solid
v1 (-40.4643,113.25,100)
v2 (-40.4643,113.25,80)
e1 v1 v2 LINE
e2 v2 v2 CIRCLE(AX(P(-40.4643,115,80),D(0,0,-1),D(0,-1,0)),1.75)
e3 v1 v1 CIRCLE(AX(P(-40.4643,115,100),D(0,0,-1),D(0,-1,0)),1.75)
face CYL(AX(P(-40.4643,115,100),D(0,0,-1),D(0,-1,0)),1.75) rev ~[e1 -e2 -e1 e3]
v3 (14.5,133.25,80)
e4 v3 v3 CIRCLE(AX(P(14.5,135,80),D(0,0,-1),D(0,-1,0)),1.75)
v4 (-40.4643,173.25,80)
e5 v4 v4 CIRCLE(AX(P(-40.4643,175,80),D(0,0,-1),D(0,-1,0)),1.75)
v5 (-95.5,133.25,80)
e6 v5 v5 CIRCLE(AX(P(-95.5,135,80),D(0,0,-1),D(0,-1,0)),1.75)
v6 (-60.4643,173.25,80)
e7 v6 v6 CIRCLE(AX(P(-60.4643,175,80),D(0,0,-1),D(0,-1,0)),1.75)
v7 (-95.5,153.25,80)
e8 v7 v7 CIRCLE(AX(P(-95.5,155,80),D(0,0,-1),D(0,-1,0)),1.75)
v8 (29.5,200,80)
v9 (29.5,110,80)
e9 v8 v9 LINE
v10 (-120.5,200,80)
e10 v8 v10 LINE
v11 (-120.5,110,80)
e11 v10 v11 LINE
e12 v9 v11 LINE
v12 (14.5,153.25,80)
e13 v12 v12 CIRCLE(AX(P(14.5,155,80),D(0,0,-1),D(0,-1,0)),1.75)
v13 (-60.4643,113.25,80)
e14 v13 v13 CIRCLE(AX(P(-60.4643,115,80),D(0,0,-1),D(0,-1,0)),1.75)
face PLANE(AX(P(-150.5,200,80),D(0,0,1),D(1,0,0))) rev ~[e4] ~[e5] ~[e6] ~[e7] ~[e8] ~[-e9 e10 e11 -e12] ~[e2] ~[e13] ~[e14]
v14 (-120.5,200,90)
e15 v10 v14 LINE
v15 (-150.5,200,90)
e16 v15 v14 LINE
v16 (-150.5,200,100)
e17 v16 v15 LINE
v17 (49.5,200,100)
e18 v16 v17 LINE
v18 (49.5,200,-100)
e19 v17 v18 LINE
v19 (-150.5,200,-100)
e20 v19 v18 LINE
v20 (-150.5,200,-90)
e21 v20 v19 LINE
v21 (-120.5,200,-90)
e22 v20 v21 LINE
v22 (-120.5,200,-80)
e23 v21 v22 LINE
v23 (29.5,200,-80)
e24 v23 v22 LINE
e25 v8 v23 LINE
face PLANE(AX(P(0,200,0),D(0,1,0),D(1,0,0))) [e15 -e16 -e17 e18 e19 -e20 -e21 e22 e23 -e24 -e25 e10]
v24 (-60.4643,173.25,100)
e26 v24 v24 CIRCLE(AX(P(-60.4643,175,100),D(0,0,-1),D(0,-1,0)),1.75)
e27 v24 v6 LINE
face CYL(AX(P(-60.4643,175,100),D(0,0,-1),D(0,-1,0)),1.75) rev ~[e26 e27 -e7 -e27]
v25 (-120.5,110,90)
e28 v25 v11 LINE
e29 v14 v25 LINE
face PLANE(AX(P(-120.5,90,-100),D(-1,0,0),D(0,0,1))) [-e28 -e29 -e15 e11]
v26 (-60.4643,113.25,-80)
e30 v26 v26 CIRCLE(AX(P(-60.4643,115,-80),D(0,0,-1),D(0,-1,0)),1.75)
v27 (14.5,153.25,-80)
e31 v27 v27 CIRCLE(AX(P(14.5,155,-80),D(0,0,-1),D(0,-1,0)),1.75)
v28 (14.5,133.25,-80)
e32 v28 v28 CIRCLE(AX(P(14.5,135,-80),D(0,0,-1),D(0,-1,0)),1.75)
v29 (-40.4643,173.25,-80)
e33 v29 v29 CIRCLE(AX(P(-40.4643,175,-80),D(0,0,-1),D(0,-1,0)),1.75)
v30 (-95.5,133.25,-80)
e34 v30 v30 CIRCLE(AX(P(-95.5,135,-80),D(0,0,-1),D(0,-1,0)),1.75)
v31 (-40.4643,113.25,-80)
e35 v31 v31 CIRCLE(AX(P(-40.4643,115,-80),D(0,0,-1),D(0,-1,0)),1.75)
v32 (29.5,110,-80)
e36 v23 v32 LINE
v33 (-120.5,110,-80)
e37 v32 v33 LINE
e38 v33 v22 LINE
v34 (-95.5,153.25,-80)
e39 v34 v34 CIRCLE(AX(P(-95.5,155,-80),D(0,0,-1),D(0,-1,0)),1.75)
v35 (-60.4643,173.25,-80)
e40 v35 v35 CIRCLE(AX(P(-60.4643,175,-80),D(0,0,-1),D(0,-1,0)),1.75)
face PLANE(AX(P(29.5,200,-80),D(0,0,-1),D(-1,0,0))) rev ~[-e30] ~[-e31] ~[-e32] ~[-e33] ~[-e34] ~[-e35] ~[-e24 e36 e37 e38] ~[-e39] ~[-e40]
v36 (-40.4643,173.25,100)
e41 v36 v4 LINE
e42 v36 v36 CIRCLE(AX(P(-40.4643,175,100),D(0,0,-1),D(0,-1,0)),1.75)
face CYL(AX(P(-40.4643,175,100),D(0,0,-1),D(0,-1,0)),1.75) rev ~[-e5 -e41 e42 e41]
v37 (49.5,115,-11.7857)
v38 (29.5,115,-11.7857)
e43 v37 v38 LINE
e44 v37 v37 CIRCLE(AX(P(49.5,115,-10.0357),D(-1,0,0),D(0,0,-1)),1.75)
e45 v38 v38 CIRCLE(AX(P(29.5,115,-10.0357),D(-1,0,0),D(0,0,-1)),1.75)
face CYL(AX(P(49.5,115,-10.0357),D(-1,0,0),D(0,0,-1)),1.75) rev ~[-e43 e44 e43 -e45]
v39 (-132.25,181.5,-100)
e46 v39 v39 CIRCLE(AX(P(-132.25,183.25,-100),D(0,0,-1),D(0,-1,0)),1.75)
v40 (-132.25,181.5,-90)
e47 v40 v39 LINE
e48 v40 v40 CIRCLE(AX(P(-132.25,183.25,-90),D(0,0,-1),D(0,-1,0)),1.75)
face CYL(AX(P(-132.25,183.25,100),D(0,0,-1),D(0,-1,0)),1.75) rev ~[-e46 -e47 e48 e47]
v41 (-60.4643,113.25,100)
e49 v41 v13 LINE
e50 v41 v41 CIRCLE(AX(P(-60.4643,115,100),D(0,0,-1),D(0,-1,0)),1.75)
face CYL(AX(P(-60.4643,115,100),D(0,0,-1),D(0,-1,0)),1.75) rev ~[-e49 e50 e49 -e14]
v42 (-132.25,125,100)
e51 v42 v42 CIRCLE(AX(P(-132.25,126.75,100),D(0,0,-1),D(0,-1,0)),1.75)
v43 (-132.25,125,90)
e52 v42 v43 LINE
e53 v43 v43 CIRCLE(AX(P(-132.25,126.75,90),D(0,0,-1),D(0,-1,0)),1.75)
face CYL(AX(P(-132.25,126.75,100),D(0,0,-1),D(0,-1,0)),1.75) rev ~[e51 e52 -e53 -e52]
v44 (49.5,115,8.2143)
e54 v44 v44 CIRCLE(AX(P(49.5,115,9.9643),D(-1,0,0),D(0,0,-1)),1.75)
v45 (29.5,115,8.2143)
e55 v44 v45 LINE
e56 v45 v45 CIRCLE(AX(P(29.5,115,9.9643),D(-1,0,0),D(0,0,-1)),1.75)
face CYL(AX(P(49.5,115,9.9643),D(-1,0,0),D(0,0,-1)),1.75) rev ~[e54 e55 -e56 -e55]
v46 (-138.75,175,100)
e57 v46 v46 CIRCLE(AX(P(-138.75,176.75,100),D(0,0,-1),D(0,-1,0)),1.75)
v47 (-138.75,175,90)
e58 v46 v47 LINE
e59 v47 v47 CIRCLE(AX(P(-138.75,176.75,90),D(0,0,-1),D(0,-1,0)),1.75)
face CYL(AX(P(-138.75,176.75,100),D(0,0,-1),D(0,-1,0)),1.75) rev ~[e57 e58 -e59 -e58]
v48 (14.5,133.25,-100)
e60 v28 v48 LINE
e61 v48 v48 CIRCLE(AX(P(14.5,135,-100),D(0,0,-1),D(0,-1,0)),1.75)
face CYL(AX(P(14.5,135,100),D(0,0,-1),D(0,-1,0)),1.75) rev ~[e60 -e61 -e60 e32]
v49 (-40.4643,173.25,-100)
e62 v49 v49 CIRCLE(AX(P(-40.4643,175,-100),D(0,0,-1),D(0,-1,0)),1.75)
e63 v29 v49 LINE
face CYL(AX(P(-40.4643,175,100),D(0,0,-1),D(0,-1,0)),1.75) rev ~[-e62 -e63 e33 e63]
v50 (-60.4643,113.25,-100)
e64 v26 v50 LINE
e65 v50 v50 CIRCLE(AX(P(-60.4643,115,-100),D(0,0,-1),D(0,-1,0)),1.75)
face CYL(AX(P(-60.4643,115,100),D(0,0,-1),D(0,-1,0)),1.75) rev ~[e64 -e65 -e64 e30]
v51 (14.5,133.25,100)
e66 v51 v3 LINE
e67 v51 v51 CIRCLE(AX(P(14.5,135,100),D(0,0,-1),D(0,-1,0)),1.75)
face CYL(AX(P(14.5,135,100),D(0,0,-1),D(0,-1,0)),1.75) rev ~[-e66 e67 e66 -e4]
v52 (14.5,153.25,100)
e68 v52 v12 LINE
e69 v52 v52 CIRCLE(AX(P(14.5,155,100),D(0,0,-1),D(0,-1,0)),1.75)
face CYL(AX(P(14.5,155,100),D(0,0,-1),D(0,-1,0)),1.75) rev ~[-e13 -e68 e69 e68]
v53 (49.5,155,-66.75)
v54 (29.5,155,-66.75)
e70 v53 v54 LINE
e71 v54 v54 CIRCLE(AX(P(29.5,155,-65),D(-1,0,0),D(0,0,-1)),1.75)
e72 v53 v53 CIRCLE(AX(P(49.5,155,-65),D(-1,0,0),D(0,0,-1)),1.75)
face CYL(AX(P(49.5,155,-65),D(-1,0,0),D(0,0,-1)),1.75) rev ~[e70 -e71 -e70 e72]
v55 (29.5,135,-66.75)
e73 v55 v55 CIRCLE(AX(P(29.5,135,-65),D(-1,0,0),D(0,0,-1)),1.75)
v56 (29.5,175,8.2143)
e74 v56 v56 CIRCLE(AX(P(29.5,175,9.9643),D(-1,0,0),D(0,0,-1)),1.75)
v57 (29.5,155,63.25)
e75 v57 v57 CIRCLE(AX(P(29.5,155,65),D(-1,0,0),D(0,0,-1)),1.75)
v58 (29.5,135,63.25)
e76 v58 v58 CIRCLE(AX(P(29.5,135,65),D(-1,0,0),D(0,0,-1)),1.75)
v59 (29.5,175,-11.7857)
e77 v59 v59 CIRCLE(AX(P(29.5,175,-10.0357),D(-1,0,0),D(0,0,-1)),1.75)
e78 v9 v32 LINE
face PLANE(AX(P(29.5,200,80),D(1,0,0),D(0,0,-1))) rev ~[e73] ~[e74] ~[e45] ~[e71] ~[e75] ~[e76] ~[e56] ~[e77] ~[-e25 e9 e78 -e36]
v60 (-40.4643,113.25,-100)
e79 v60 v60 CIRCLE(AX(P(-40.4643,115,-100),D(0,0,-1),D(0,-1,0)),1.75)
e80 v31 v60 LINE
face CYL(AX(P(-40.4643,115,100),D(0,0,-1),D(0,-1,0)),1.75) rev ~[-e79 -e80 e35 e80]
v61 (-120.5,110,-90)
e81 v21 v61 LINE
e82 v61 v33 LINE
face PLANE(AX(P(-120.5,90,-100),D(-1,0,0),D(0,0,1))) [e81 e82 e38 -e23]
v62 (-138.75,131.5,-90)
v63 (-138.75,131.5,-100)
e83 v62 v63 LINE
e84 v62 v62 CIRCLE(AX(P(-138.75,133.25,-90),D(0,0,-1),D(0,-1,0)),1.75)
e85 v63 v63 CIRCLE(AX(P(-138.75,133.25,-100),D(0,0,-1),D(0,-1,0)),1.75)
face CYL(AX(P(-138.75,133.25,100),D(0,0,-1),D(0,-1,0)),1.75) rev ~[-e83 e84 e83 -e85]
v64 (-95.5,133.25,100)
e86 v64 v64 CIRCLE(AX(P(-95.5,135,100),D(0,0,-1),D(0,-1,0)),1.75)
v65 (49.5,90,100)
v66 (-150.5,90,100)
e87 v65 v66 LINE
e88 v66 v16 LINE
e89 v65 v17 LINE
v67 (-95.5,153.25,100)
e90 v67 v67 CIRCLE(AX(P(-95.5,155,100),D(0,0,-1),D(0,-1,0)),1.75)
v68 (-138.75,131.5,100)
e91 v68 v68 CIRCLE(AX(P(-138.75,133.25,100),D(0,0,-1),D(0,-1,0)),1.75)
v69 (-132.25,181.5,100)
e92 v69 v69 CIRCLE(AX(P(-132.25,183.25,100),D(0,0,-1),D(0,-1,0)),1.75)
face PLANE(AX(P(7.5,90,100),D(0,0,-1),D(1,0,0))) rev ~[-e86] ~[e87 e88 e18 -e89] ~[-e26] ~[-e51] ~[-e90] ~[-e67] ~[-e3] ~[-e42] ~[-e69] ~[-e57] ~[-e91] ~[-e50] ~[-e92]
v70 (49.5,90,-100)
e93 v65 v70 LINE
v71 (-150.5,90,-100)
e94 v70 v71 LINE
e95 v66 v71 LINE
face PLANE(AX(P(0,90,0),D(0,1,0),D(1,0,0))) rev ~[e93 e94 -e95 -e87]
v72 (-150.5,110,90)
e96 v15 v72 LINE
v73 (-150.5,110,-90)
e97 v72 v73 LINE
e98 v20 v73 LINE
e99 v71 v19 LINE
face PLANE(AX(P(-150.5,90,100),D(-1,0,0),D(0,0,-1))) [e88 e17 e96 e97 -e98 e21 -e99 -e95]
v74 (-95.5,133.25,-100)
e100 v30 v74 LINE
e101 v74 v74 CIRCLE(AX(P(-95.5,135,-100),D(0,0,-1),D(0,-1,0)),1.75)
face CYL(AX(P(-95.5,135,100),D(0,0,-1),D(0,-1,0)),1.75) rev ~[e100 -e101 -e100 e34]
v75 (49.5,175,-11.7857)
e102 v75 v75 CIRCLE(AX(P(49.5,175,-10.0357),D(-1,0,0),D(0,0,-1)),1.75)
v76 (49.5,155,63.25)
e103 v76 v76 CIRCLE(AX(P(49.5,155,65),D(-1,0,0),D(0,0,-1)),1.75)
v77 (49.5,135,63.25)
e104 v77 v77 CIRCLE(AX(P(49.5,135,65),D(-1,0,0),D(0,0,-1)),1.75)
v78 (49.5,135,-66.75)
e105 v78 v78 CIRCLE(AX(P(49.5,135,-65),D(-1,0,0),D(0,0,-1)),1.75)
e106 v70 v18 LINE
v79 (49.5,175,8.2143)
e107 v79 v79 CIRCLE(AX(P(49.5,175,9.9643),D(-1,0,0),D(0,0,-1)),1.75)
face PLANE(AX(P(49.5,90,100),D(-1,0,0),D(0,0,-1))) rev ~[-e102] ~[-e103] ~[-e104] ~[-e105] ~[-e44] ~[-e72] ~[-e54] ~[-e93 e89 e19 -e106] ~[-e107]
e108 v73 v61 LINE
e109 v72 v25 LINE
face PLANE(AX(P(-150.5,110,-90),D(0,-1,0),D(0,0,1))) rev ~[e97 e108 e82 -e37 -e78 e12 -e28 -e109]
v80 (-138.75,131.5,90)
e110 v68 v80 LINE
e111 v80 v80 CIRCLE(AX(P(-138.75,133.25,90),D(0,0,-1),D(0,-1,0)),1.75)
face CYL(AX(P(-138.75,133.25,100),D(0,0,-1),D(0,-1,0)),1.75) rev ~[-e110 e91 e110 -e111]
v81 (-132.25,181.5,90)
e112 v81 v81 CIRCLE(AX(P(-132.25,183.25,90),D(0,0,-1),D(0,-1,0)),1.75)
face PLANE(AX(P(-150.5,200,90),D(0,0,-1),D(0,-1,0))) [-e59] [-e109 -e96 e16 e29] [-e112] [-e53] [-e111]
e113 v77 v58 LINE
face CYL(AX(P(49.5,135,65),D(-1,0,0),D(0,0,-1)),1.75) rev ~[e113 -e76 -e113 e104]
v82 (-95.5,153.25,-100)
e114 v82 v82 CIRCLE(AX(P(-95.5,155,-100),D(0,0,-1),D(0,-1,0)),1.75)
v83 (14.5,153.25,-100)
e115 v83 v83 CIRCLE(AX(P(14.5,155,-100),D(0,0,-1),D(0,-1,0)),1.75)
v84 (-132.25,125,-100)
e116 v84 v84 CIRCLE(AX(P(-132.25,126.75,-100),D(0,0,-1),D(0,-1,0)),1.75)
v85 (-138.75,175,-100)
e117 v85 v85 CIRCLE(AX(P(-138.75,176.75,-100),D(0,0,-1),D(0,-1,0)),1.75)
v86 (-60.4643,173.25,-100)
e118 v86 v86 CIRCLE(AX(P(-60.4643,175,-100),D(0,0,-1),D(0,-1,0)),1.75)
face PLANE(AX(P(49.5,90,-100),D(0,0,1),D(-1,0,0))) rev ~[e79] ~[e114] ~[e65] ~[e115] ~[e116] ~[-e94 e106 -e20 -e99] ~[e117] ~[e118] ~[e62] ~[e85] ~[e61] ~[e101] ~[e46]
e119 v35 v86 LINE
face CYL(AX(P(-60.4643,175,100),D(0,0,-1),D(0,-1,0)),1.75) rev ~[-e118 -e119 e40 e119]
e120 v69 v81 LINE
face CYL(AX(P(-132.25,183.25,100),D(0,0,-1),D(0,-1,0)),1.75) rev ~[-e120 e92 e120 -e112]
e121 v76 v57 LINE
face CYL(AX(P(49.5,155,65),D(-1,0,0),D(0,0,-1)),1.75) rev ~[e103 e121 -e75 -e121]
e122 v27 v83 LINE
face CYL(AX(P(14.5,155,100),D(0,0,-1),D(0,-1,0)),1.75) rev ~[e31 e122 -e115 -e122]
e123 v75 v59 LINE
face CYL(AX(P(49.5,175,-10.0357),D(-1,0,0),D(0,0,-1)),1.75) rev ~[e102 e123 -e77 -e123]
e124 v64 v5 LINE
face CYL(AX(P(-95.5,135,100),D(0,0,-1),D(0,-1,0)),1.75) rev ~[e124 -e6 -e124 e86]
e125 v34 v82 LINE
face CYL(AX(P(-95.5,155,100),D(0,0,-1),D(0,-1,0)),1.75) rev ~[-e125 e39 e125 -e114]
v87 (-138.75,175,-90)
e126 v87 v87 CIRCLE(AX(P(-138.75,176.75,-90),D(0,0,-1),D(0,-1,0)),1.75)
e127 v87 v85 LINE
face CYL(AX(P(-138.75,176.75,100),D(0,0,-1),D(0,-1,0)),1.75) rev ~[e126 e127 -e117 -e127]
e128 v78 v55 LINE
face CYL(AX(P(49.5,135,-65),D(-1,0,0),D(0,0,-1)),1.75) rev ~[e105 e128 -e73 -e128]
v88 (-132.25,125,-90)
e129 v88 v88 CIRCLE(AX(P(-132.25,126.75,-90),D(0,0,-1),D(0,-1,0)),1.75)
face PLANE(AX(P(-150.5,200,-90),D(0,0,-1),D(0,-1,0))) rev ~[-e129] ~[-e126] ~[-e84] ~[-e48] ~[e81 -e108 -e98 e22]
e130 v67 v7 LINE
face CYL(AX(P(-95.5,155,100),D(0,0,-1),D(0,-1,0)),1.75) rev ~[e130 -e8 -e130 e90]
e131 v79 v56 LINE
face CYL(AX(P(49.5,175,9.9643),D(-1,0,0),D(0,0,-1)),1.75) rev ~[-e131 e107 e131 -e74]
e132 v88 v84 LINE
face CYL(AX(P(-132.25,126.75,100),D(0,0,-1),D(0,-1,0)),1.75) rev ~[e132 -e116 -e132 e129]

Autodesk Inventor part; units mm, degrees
ref_plane "YZ Plane" through (0, 0, 0) normal (1, 0, 0) x (0, 1, 0)
ref_plane "XZ Plane" through (0, 0, 0) normal (0, 1, 0) x (-1, 0, 0)
ref_plane "XY Plane" through (0, 0, 0) normal (0, 0, 1) x (1, 0, 0)
sketch "Boceto2" plane through (0, 0, 0) normal (0, 1, 0) x (-1, 0, 0)
  line L0 (7.5, 100) -> (-7.5, 100)
  line L1 (-7.5, 100) -> (-7.5, -100)
  line L2 (-7.5, -100) -> (7.5, -100)
  line L3 (7.5, -100) -> (7.5, 100)
  line L4 (7.5, 100) -> (-7.5, -100) construction
  line L5 (-7.5, 100) -> (7.5, -100) construction
  point P0 (0, 0)
  dimension "d7" = 15
  dimension "d8" = 200
extrude "Extrusión1" add sketch "Boceto2" along normal blind 10
sketch "Boceto3" plane through (0, 10, 0) normal (0, 1, 0) x (1, 0, 0)
  circle A0 centre (3.25, 58.25) radius 1.75
  line L0 (5, 50) -> (-5, 50)
  line L1 (-5, 50) -> (-5, 60)
  line L2 (-5, 60) -> (5, 60)
  line L3 (5, 60) -> (5, 50)
  line L4 (5, 50) -> (-5, 60) construction
  line L5 (-5, 50) -> (5, 60) construction
  circle A1 centre (-3.25, 51.75) radius 1.75
  line L6 (7.5, 100) -> (-7.5, 100) projected
  line L7 (-7.5, 0) -> (3.408, 0)
  line L8 (5, -60) -> (5, -50)
  line L9 (-5, -60) -> (5, -60)
  line L10 (5, -50) -> (-5, -50)
  line L11 (-5, -50) -> (-5, -60)
  line L12 (-5, -50) -> (5, -60) construction
  circle A2 centre (-3.25, -51.75) radius 1.75
  line L13 (5, -50) -> (-5, -60) construction
  circle A3 centre (3.25, -58.25) radius 1.75
  line L14 (-7.5, -100) -> (7.5, -100) projected
  point P0 (0, 0)
  point P1 (-5, 55)
  point P2 (0, 100)
  point P3 (-5, -55)
  dimension "d11" = 3.5
  dimension "d12" = 1.75
  dimension "d13" = 1.75
  dimension "d14" = 1.75
  dimension "d15" = 1.75
  dimension "d16" = 10
  dimension "d17" = 10
  dimension "d19" = 40
  dimension "d81" = 40
hole "Agujero1" at (3.25, 10, 58.25) at (-3.25, 10, 51.75) at (3.25, 10, -58.25) at (-3.25, 10, -51.75) direction (0, -1, 0) diameter 3.5 end through all
sketch "Boceto4" plane through (0, 10, 0) normal (0, 1, 0) x (1, 0, 0)
  line L0 (-7.5, 100) -> (-7.5, -100) projected
  line L1 (-7.5, -100) -> (7.5, -100)
  line L2 (7.5, -100) -> (7.5, -80)
  line L3 (7.5, -80) -> (-7.5, -80)
  line L4 (-7.5, -80) -> (-7.5, -100)
  line L5 (-7.5, 0) -> (1.0116, 0)
  line L6 (-7.5, -100) -> (-7.5, 100)
  line L7 (-7.5, 100) -> (7.5, 100)
  line L8 (7.5, 100) -> (7.5, 80)
  line L9 (7.5, 80) -> (-7.5, 80)
  line L10 (-7.5, 80) -> (-7.5, 100)
  point P0 (0, 0)
  point P1 (-7.5, -80)
  point P2 (-7.5, 80)
  dimension "d27" = 15
  dimension "d28" = 20
extrude "Extrusión2" add sketch "Boceto4" along normal blind 80
sketch "Boceto5" plane through (0, 90, 0) normal (0, 1, 0) x (1, 0, 0)
  line L0 (-7.5, -100) -> (7.5, -100) projected
  line L1 (-7.5, -100) -> (49.5, -100)
  line L2 (49.5, -100) -> (49.5, 100)
  line L3 (49.5, 100) -> (-7.5, 100)
  line L4 (-7.5, 100) -> (-7.5, -100)
  line L5 (49.5, -100) -> (-150.5, -100)
  line L6 (-150.5, -100) -> (-150.5, 100)
  line L7 (-150.5, 100) -> (49.5, 100)
  line L8 (49.5, 100) -> (49.5, -100)
  point P0 (0, 0)
  point P1 (-7.5, 100)
  dimension "d31" = 57
  dimension "d32" = 200
  dimension "d75" = 200
extrude "Extrusión3" add sketch "Boceto5" along normal blind 110
sketch "Boceto6" plane through (0, 200, 0) normal (0, 1, 0) x (1, 0, 0)
  line L0 (49.5, 100) -> (7.5, 100) projected
  line L1 (49.5, 100) -> (29.5, 100)
  line L2 (29.5, 100) -> (29.5, 80)
  line L3 (7.5, -100) -> (49.5, -100) projected
  line L4 (28.5, -100) -> (28.5, -80)
  line L5 (-150.5, 100) -> (-150.5, -100) projected
  line L6 (29.5, 80) -> (-150.5, 80)
  line L7 (-150.5, 80) -> (-150.5, -80)
  line L8 (-150.5, -80) -> (29.5, -80)
  line L9 (29.5, -80) -> (29.5, 80)
  line L10 (-150.5, -100) -> (49.5, -100) projected
  point P0 (7.5, 80)
  point P1 (-50.5, -100)
  dimension "d36" = 20
  dimension "d37" = 20
  dimension "d38" = 20
  dimension "d77" = 20
extrude "Extrusión4" cut sketch "Boceto6" against normal blind 90 contours L8 L5 L6 L9
sketch "Boceto7" plane through (-150.5, 90, -100) normal (-1, 0, 0) x (0, 0, 1)
  line L0 (0, 110) -> (20, 110) projected
  line L1 (20, 110) -> (10, 110)
  line L2 (10, 110) -> (10, 20)
  line L3 (10, 20) -> (20, 20)
  line L4 (20, 20) -> (20, 110)
  line L5 (180, 110) -> (180, 20) projected
  line L6 (180, 110) -> (190, 110)
  line L7 (190, 110) -> (190, 20)
  line L8 (190, 20) -> (180, 20)
  line L9 (180, 20) -> (180, 110)
  line L10 (200, 0) -> (200, 110) projected
  line L11 (0, 0) -> (0, 110) projected
  line L12 (0, 110) -> (10, 110)
  line L13 (10, 110) -> (10, 20)
  line L14 (10, 20) -> (0, 20)
  line L15 (0, 20) -> (0, 110)
  line L16 (200, 110) -> (0, 110) projected
  line L17 (200, 110) -> (190, 110)
  line L18 (190, 110) -> (190, 20)
  line L19 (190, 20) -> (200, 20)
  line L20 (200, 20) -> (200, 110)
  point P0 (100, -90)
  dimension "d63" = 10
  dimension "d65" = 10
  dimension "d76" = 10
extrude "Extrusión5" cut sketch "Boceto7" against normal blind 30 contours L6 L7 L8 L5 | L0 L4 L3 L2
sketch "Boceto8" plane through (-7.5, 0, 100) normal (0, 0, 1) x (1, 0, 0)
  line L0 (-113, 110) -> (-113, 200) projected
  line L1 (-113, 200) -> (-113, 110)
  circle A0 centre (-124.75, 183.25) radius 1.75
  line L2 (-123, 175) -> (-133, 175)
  line L3 (-133, 175) -> (-133, 185)
  line L4 (-133, 185) -> (-123, 185)
  line L5 (-123, 185) -> (-123, 175)
  line L6 (-123, 175) -> (-133, 185) construction
  line L7 (-133, 175) -> (-123, 185) construction
  circle A1 centre (-131.25, 176.75) radius 1.75
  line L8 (-143, 200) -> (57, 200) projected
  line L9 (-143, 90) -> (-143, 200) projected
  line L10 (-113, 155) -> (-128, 155)
  line L11 (-123, 125) -> (-123, 135)
  line L12 (-133, 125) -> (-123, 125)
  line L13 (-123, 135) -> (-133, 125) construction
  line L14 (-123, 135) -> (-133, 135)
  line L15 (-133, 135) -> (-123, 125) construction
  circle A2 centre (-131.25, 133.25) radius 1.75
  line L16 (-133, 135) -> (-133, 125)
  circle A3 centre (-124.75, 126.75) radius 1.75
  line L17 (-143, 110) -> (-113, 110) projected
  point P0 (7.5, 0)
  point P1 (-133, 180)
  point P2 (-123, 180)
  point P3 (-133, 130)
  point P4 (-123, 130)
  dimension "d45" = 3.5
  dimension "d46" = 1.75
  dimension "d47" = 1.75
  dimension "d48" = 1.75
  dimension "d49" = 1.75
  dimension "d50" = 10
  dimension "d51" = 10
  dimension "d52" = 15
  dimension "d53" = 10
  dimension "d54" = 10
  dimension "d55" = 15
hole "Agujero2" at (-132.25, 183.25, 100) at (-138.75, 176.75, 100) at (-138.75, 133.25, 100) at (-132.25, 126.75, 100) direction (0, 0, -1) diameter 3.5 end through all
ref_plane "Plano de trabajo1" through (-150.5, 90, 100) normal (0, -1, 0) x (1, 0, 0)
split "Dividir1" plane through (-150.5, 90, 100) removes the side toward (0, -1, 0)
ref_plane "Plano de trabajo2" through (49.5, 90, 0) normal (0, 0, -1) x (-1, 0, 0)
ref_plane "Plano de trabajo3" through (-50.5, 90, 100) normal (1, 0, 0) x (0, 0, -1)
ref_plane "Plano de trabajo4" through (0, 145, 0) normal (0, 1, 0) x (1, 0, 0)
sketch "Boceto9" plane through (-150.5, 90, 100) normal (0, 0, 1) x (1, 0, 0)
  line L0 (85.0357, 30) -> (115.0357, 30)
  circle A0 centre (110.0357, 25) radius 1.75
  line L1 (90.0357, 25) -> (110.0357, 25)
  line L2 (115.0357, 30) -> (115.0357, 20)
  circle A1 centre (90.0357, 25) radius 1.75
  line L3 (85.0357, 20) -> (115.0357, 30) construction
  line L4 (85.0357, 30) -> (115.0357, 20) construction
  line L5 (85.0357, 20) -> (85.0357, 30)
  line L6 (115.0357, 20) -> (85.0357, 20)
  line L7 (200, 0) -> (200, 110)
  line L8 (200, 55) -> (88.2857, 55)
  circle A2 centre (90.0357, 85) radius 1.75
  line L9 (85.0357, 80) -> (115.0357, 80)
  line L10 (85.0357, 80) -> (115.0357, 90) construction
  line L11 (85.0357, 90) -> (85.0357, 80)
  line L12 (115.0357, 90) -> (85.0357, 90)
  line L13 (85.0357, 90) -> (115.0357, 80) construction
  circle A3 centre (110.0357, 85) radius 1.75
  line L14 (90.0357, 85) -> (110.0357, 85)
  line L15 (115.0357, 80) -> (115.0357, 90)
  line L16 (100.0357, 55) -> (185.099, 55) construction
  line L17 (160, 70) -> (160, 40)
  circle A4 centre (165, 45) radius 1.75
  line L18 (170, 40) -> (170, 70)
  line L19 (170, 70) -> (160, 40) construction
  line L20 (160, 40) -> (170, 40)
  line L21 (160, 70) -> (170, 40) construction
  circle A5 centre (165, 65) radius 1.75
  line L22 (165, 65) -> (165, 45)
  line L23 (170, 70) -> (160, 70)
  circle A6 centre (55, 65) radius 1.75
  line L24 (60, 70) -> (60, 40)
  line L25 (60, 40) -> (50, 40)
  circle A7 centre (55, 45) radius 1.75
  line L26 (55, 65) -> (55, 45)
  line L27 (60, 70) -> (50, 40) construction
  line L28 (50, 40) -> (50, 70)
  line L29 (50, 70) -> (60, 40) construction
  line L30 (50, 70) -> (60, 70)
  line L31 (30, 110) -> (30, 20)
  point P0 (150.5, -90)
  point P1 (100.0357, 34.7141)
  point P2 (100.0357, 34.7141)
  point P3 (85.0357, 36.6749)
  point P4 (115.0357, 25)
  point P5 (115.0357, 85)
  point P6 (189.1833, 40)
  point P7 (165, 70)
  point P8 (70.0357, 40)
  point P9 (55, 70)
  dimension "d89" = 10
  dimension "d90" = 30
  dimension "d91" = 5
  dimension "d92" = 5
  dimension "d93" = 5
  dimension "d94" = 5
  dimension "d95" = 30
  dimension "d96" = 5
  dimension "d97" = 5
  dimension "d98" = 3.5
  dimension "d99" = 5
  dimension "d100" = 5
  dimension "d101" = 5
  dimension "d102" = 5
  dimension "d103" = 5
  dimension "d104" = 20
hole "Agujero3" at (-60.4643, 175, 100) at (-40.4643, 175, 100) at (14.5, 155, 100) at (-95.5, 155, 100) at (-95.5, 135, 100) at (-60.4643, 115, 100) at (-40.4643, 115, 100) at (14.5, 135, 100) direction (0, 0, -1) diameter 3.5 end through all
sketch "Boceto10" plane through (49.5, 90, 100) normal (1, 0, 0) x (0, 0, -1)
  line L0 (85.0357, 30) -> (115.0357, 30)
  circle A0 centre (110.0357, 25) radius 1.75
  line L1 (90.0357, 25) -> (110.0357, 25)
  line L2 (115.0357, 30) -> (115.0357, 20)
  circle A1 centre (90.0357, 25) radius 1.75
  line L3 (85.0357, 30) -> (115.0357, 20) construction
  line L4 (85.0357, 20) -> (85.0357, 30)
  line L5 (115.0357, 20) -> (85.0357, 20)
  line L6 (85.0357, 20) -> (115.0357, 30) construction
  line L7 (160, 70) -> (160, 40)
  circle A2 centre (165, 45) radius 1.75
  line L8 (160, 40) -> (170, 40)
  line L9 (165, 65) -> (165, 45)
  circle A3 centre (165, 65) radius 1.75
  line L10 (170, 70) -> (160, 40) construction
  line L11 (170, 70) -> (160, 70)
  line L12 (160, 70) -> (170, 40) construction
  line L13 (170, 40) -> (170, 70)
  line L14 (40, 70) -> (40, 40)
  line L15 (35, 65) -> (35, 45)
  circle A4 centre (35, 65) radius 1.75
  line L16 (40, 40) -> (30, 40)
  line L17 (40, 70) -> (30, 40) construction
  line L18 (30, 70) -> (40, 40) construction
  line L19 (30, 70) -> (40, 70)
  line L20 (30, 40) -> (30, 70)
  circle A5 centre (35, 45) radius 1.75
  circle A6 centre (90.0357, 85) radius 1.75
  line L21 (85.0357, 80) -> (115.0357, 80)
  line L22 (115.0357, 80) -> (115.0357, 90)
  circle A7 centre (110.0357, 85) radius 1.75
  line L23 (90.0357, 85) -> (110.0357, 85)
  line L24 (85.0357, 80) -> (115.0357, 90) construction
  line L25 (85.0357, 90) -> (85.0357, 80)
  line L26 (115.0357, 90) -> (85.0357, 90)
  line L27 (85.0357, 90) -> (115.0357, 80) construction
  line L28 (0, 0) -> (0, 110)
  line L29 (200, 0) -> (200, 110)
  point P0 (100, -90)
  point P1 (100.0357, 34.7141)
  point P2 (100.0357, 34.7141)
  point P3 (85.0357, 36.6749)
  point P4 (115.0357, 25)
  point P5 (88.2857, 55)
  point P6 (189.1833, 40)
  point P7 (165, 70)
  point P8 (70.0357, 40)
  point P9 (35, 70)
  point P10 (115.0357, 85)
  point P11 (100.0357, 55)
  dimension "d112" = 10
  dimension "d113" = 30
  dimension "d114" = 5
  dimension "d115" = 5
  dimension "d116" = 5
  dimension "d117" = 5
  dimension "d118" = 5
  dimension "d119" = 5
  dimension "d120" = 3.5
  dimension "d121" = 5
  dimension "d122" = 5
  dimension "d123" = 5
  dimension "d124" = 5
  dimension "d125" = 5
  dimension "d126" = 30
  dimension "d127" = 30
hole "Agujero4" at (49.5, 175, 9.9643) at (49.5, 175, -10.0357) at (49.5, 155, 65) at (49.5, 135, 65) at (49.5, 115, 9.9643) at (49.5, 115, -10.0357) at (49.5, 135, -65) at (49.5, 155, -65) direction (-1, 0, 0) diameter 3.5 end through all
properties part number "container_front_head"
